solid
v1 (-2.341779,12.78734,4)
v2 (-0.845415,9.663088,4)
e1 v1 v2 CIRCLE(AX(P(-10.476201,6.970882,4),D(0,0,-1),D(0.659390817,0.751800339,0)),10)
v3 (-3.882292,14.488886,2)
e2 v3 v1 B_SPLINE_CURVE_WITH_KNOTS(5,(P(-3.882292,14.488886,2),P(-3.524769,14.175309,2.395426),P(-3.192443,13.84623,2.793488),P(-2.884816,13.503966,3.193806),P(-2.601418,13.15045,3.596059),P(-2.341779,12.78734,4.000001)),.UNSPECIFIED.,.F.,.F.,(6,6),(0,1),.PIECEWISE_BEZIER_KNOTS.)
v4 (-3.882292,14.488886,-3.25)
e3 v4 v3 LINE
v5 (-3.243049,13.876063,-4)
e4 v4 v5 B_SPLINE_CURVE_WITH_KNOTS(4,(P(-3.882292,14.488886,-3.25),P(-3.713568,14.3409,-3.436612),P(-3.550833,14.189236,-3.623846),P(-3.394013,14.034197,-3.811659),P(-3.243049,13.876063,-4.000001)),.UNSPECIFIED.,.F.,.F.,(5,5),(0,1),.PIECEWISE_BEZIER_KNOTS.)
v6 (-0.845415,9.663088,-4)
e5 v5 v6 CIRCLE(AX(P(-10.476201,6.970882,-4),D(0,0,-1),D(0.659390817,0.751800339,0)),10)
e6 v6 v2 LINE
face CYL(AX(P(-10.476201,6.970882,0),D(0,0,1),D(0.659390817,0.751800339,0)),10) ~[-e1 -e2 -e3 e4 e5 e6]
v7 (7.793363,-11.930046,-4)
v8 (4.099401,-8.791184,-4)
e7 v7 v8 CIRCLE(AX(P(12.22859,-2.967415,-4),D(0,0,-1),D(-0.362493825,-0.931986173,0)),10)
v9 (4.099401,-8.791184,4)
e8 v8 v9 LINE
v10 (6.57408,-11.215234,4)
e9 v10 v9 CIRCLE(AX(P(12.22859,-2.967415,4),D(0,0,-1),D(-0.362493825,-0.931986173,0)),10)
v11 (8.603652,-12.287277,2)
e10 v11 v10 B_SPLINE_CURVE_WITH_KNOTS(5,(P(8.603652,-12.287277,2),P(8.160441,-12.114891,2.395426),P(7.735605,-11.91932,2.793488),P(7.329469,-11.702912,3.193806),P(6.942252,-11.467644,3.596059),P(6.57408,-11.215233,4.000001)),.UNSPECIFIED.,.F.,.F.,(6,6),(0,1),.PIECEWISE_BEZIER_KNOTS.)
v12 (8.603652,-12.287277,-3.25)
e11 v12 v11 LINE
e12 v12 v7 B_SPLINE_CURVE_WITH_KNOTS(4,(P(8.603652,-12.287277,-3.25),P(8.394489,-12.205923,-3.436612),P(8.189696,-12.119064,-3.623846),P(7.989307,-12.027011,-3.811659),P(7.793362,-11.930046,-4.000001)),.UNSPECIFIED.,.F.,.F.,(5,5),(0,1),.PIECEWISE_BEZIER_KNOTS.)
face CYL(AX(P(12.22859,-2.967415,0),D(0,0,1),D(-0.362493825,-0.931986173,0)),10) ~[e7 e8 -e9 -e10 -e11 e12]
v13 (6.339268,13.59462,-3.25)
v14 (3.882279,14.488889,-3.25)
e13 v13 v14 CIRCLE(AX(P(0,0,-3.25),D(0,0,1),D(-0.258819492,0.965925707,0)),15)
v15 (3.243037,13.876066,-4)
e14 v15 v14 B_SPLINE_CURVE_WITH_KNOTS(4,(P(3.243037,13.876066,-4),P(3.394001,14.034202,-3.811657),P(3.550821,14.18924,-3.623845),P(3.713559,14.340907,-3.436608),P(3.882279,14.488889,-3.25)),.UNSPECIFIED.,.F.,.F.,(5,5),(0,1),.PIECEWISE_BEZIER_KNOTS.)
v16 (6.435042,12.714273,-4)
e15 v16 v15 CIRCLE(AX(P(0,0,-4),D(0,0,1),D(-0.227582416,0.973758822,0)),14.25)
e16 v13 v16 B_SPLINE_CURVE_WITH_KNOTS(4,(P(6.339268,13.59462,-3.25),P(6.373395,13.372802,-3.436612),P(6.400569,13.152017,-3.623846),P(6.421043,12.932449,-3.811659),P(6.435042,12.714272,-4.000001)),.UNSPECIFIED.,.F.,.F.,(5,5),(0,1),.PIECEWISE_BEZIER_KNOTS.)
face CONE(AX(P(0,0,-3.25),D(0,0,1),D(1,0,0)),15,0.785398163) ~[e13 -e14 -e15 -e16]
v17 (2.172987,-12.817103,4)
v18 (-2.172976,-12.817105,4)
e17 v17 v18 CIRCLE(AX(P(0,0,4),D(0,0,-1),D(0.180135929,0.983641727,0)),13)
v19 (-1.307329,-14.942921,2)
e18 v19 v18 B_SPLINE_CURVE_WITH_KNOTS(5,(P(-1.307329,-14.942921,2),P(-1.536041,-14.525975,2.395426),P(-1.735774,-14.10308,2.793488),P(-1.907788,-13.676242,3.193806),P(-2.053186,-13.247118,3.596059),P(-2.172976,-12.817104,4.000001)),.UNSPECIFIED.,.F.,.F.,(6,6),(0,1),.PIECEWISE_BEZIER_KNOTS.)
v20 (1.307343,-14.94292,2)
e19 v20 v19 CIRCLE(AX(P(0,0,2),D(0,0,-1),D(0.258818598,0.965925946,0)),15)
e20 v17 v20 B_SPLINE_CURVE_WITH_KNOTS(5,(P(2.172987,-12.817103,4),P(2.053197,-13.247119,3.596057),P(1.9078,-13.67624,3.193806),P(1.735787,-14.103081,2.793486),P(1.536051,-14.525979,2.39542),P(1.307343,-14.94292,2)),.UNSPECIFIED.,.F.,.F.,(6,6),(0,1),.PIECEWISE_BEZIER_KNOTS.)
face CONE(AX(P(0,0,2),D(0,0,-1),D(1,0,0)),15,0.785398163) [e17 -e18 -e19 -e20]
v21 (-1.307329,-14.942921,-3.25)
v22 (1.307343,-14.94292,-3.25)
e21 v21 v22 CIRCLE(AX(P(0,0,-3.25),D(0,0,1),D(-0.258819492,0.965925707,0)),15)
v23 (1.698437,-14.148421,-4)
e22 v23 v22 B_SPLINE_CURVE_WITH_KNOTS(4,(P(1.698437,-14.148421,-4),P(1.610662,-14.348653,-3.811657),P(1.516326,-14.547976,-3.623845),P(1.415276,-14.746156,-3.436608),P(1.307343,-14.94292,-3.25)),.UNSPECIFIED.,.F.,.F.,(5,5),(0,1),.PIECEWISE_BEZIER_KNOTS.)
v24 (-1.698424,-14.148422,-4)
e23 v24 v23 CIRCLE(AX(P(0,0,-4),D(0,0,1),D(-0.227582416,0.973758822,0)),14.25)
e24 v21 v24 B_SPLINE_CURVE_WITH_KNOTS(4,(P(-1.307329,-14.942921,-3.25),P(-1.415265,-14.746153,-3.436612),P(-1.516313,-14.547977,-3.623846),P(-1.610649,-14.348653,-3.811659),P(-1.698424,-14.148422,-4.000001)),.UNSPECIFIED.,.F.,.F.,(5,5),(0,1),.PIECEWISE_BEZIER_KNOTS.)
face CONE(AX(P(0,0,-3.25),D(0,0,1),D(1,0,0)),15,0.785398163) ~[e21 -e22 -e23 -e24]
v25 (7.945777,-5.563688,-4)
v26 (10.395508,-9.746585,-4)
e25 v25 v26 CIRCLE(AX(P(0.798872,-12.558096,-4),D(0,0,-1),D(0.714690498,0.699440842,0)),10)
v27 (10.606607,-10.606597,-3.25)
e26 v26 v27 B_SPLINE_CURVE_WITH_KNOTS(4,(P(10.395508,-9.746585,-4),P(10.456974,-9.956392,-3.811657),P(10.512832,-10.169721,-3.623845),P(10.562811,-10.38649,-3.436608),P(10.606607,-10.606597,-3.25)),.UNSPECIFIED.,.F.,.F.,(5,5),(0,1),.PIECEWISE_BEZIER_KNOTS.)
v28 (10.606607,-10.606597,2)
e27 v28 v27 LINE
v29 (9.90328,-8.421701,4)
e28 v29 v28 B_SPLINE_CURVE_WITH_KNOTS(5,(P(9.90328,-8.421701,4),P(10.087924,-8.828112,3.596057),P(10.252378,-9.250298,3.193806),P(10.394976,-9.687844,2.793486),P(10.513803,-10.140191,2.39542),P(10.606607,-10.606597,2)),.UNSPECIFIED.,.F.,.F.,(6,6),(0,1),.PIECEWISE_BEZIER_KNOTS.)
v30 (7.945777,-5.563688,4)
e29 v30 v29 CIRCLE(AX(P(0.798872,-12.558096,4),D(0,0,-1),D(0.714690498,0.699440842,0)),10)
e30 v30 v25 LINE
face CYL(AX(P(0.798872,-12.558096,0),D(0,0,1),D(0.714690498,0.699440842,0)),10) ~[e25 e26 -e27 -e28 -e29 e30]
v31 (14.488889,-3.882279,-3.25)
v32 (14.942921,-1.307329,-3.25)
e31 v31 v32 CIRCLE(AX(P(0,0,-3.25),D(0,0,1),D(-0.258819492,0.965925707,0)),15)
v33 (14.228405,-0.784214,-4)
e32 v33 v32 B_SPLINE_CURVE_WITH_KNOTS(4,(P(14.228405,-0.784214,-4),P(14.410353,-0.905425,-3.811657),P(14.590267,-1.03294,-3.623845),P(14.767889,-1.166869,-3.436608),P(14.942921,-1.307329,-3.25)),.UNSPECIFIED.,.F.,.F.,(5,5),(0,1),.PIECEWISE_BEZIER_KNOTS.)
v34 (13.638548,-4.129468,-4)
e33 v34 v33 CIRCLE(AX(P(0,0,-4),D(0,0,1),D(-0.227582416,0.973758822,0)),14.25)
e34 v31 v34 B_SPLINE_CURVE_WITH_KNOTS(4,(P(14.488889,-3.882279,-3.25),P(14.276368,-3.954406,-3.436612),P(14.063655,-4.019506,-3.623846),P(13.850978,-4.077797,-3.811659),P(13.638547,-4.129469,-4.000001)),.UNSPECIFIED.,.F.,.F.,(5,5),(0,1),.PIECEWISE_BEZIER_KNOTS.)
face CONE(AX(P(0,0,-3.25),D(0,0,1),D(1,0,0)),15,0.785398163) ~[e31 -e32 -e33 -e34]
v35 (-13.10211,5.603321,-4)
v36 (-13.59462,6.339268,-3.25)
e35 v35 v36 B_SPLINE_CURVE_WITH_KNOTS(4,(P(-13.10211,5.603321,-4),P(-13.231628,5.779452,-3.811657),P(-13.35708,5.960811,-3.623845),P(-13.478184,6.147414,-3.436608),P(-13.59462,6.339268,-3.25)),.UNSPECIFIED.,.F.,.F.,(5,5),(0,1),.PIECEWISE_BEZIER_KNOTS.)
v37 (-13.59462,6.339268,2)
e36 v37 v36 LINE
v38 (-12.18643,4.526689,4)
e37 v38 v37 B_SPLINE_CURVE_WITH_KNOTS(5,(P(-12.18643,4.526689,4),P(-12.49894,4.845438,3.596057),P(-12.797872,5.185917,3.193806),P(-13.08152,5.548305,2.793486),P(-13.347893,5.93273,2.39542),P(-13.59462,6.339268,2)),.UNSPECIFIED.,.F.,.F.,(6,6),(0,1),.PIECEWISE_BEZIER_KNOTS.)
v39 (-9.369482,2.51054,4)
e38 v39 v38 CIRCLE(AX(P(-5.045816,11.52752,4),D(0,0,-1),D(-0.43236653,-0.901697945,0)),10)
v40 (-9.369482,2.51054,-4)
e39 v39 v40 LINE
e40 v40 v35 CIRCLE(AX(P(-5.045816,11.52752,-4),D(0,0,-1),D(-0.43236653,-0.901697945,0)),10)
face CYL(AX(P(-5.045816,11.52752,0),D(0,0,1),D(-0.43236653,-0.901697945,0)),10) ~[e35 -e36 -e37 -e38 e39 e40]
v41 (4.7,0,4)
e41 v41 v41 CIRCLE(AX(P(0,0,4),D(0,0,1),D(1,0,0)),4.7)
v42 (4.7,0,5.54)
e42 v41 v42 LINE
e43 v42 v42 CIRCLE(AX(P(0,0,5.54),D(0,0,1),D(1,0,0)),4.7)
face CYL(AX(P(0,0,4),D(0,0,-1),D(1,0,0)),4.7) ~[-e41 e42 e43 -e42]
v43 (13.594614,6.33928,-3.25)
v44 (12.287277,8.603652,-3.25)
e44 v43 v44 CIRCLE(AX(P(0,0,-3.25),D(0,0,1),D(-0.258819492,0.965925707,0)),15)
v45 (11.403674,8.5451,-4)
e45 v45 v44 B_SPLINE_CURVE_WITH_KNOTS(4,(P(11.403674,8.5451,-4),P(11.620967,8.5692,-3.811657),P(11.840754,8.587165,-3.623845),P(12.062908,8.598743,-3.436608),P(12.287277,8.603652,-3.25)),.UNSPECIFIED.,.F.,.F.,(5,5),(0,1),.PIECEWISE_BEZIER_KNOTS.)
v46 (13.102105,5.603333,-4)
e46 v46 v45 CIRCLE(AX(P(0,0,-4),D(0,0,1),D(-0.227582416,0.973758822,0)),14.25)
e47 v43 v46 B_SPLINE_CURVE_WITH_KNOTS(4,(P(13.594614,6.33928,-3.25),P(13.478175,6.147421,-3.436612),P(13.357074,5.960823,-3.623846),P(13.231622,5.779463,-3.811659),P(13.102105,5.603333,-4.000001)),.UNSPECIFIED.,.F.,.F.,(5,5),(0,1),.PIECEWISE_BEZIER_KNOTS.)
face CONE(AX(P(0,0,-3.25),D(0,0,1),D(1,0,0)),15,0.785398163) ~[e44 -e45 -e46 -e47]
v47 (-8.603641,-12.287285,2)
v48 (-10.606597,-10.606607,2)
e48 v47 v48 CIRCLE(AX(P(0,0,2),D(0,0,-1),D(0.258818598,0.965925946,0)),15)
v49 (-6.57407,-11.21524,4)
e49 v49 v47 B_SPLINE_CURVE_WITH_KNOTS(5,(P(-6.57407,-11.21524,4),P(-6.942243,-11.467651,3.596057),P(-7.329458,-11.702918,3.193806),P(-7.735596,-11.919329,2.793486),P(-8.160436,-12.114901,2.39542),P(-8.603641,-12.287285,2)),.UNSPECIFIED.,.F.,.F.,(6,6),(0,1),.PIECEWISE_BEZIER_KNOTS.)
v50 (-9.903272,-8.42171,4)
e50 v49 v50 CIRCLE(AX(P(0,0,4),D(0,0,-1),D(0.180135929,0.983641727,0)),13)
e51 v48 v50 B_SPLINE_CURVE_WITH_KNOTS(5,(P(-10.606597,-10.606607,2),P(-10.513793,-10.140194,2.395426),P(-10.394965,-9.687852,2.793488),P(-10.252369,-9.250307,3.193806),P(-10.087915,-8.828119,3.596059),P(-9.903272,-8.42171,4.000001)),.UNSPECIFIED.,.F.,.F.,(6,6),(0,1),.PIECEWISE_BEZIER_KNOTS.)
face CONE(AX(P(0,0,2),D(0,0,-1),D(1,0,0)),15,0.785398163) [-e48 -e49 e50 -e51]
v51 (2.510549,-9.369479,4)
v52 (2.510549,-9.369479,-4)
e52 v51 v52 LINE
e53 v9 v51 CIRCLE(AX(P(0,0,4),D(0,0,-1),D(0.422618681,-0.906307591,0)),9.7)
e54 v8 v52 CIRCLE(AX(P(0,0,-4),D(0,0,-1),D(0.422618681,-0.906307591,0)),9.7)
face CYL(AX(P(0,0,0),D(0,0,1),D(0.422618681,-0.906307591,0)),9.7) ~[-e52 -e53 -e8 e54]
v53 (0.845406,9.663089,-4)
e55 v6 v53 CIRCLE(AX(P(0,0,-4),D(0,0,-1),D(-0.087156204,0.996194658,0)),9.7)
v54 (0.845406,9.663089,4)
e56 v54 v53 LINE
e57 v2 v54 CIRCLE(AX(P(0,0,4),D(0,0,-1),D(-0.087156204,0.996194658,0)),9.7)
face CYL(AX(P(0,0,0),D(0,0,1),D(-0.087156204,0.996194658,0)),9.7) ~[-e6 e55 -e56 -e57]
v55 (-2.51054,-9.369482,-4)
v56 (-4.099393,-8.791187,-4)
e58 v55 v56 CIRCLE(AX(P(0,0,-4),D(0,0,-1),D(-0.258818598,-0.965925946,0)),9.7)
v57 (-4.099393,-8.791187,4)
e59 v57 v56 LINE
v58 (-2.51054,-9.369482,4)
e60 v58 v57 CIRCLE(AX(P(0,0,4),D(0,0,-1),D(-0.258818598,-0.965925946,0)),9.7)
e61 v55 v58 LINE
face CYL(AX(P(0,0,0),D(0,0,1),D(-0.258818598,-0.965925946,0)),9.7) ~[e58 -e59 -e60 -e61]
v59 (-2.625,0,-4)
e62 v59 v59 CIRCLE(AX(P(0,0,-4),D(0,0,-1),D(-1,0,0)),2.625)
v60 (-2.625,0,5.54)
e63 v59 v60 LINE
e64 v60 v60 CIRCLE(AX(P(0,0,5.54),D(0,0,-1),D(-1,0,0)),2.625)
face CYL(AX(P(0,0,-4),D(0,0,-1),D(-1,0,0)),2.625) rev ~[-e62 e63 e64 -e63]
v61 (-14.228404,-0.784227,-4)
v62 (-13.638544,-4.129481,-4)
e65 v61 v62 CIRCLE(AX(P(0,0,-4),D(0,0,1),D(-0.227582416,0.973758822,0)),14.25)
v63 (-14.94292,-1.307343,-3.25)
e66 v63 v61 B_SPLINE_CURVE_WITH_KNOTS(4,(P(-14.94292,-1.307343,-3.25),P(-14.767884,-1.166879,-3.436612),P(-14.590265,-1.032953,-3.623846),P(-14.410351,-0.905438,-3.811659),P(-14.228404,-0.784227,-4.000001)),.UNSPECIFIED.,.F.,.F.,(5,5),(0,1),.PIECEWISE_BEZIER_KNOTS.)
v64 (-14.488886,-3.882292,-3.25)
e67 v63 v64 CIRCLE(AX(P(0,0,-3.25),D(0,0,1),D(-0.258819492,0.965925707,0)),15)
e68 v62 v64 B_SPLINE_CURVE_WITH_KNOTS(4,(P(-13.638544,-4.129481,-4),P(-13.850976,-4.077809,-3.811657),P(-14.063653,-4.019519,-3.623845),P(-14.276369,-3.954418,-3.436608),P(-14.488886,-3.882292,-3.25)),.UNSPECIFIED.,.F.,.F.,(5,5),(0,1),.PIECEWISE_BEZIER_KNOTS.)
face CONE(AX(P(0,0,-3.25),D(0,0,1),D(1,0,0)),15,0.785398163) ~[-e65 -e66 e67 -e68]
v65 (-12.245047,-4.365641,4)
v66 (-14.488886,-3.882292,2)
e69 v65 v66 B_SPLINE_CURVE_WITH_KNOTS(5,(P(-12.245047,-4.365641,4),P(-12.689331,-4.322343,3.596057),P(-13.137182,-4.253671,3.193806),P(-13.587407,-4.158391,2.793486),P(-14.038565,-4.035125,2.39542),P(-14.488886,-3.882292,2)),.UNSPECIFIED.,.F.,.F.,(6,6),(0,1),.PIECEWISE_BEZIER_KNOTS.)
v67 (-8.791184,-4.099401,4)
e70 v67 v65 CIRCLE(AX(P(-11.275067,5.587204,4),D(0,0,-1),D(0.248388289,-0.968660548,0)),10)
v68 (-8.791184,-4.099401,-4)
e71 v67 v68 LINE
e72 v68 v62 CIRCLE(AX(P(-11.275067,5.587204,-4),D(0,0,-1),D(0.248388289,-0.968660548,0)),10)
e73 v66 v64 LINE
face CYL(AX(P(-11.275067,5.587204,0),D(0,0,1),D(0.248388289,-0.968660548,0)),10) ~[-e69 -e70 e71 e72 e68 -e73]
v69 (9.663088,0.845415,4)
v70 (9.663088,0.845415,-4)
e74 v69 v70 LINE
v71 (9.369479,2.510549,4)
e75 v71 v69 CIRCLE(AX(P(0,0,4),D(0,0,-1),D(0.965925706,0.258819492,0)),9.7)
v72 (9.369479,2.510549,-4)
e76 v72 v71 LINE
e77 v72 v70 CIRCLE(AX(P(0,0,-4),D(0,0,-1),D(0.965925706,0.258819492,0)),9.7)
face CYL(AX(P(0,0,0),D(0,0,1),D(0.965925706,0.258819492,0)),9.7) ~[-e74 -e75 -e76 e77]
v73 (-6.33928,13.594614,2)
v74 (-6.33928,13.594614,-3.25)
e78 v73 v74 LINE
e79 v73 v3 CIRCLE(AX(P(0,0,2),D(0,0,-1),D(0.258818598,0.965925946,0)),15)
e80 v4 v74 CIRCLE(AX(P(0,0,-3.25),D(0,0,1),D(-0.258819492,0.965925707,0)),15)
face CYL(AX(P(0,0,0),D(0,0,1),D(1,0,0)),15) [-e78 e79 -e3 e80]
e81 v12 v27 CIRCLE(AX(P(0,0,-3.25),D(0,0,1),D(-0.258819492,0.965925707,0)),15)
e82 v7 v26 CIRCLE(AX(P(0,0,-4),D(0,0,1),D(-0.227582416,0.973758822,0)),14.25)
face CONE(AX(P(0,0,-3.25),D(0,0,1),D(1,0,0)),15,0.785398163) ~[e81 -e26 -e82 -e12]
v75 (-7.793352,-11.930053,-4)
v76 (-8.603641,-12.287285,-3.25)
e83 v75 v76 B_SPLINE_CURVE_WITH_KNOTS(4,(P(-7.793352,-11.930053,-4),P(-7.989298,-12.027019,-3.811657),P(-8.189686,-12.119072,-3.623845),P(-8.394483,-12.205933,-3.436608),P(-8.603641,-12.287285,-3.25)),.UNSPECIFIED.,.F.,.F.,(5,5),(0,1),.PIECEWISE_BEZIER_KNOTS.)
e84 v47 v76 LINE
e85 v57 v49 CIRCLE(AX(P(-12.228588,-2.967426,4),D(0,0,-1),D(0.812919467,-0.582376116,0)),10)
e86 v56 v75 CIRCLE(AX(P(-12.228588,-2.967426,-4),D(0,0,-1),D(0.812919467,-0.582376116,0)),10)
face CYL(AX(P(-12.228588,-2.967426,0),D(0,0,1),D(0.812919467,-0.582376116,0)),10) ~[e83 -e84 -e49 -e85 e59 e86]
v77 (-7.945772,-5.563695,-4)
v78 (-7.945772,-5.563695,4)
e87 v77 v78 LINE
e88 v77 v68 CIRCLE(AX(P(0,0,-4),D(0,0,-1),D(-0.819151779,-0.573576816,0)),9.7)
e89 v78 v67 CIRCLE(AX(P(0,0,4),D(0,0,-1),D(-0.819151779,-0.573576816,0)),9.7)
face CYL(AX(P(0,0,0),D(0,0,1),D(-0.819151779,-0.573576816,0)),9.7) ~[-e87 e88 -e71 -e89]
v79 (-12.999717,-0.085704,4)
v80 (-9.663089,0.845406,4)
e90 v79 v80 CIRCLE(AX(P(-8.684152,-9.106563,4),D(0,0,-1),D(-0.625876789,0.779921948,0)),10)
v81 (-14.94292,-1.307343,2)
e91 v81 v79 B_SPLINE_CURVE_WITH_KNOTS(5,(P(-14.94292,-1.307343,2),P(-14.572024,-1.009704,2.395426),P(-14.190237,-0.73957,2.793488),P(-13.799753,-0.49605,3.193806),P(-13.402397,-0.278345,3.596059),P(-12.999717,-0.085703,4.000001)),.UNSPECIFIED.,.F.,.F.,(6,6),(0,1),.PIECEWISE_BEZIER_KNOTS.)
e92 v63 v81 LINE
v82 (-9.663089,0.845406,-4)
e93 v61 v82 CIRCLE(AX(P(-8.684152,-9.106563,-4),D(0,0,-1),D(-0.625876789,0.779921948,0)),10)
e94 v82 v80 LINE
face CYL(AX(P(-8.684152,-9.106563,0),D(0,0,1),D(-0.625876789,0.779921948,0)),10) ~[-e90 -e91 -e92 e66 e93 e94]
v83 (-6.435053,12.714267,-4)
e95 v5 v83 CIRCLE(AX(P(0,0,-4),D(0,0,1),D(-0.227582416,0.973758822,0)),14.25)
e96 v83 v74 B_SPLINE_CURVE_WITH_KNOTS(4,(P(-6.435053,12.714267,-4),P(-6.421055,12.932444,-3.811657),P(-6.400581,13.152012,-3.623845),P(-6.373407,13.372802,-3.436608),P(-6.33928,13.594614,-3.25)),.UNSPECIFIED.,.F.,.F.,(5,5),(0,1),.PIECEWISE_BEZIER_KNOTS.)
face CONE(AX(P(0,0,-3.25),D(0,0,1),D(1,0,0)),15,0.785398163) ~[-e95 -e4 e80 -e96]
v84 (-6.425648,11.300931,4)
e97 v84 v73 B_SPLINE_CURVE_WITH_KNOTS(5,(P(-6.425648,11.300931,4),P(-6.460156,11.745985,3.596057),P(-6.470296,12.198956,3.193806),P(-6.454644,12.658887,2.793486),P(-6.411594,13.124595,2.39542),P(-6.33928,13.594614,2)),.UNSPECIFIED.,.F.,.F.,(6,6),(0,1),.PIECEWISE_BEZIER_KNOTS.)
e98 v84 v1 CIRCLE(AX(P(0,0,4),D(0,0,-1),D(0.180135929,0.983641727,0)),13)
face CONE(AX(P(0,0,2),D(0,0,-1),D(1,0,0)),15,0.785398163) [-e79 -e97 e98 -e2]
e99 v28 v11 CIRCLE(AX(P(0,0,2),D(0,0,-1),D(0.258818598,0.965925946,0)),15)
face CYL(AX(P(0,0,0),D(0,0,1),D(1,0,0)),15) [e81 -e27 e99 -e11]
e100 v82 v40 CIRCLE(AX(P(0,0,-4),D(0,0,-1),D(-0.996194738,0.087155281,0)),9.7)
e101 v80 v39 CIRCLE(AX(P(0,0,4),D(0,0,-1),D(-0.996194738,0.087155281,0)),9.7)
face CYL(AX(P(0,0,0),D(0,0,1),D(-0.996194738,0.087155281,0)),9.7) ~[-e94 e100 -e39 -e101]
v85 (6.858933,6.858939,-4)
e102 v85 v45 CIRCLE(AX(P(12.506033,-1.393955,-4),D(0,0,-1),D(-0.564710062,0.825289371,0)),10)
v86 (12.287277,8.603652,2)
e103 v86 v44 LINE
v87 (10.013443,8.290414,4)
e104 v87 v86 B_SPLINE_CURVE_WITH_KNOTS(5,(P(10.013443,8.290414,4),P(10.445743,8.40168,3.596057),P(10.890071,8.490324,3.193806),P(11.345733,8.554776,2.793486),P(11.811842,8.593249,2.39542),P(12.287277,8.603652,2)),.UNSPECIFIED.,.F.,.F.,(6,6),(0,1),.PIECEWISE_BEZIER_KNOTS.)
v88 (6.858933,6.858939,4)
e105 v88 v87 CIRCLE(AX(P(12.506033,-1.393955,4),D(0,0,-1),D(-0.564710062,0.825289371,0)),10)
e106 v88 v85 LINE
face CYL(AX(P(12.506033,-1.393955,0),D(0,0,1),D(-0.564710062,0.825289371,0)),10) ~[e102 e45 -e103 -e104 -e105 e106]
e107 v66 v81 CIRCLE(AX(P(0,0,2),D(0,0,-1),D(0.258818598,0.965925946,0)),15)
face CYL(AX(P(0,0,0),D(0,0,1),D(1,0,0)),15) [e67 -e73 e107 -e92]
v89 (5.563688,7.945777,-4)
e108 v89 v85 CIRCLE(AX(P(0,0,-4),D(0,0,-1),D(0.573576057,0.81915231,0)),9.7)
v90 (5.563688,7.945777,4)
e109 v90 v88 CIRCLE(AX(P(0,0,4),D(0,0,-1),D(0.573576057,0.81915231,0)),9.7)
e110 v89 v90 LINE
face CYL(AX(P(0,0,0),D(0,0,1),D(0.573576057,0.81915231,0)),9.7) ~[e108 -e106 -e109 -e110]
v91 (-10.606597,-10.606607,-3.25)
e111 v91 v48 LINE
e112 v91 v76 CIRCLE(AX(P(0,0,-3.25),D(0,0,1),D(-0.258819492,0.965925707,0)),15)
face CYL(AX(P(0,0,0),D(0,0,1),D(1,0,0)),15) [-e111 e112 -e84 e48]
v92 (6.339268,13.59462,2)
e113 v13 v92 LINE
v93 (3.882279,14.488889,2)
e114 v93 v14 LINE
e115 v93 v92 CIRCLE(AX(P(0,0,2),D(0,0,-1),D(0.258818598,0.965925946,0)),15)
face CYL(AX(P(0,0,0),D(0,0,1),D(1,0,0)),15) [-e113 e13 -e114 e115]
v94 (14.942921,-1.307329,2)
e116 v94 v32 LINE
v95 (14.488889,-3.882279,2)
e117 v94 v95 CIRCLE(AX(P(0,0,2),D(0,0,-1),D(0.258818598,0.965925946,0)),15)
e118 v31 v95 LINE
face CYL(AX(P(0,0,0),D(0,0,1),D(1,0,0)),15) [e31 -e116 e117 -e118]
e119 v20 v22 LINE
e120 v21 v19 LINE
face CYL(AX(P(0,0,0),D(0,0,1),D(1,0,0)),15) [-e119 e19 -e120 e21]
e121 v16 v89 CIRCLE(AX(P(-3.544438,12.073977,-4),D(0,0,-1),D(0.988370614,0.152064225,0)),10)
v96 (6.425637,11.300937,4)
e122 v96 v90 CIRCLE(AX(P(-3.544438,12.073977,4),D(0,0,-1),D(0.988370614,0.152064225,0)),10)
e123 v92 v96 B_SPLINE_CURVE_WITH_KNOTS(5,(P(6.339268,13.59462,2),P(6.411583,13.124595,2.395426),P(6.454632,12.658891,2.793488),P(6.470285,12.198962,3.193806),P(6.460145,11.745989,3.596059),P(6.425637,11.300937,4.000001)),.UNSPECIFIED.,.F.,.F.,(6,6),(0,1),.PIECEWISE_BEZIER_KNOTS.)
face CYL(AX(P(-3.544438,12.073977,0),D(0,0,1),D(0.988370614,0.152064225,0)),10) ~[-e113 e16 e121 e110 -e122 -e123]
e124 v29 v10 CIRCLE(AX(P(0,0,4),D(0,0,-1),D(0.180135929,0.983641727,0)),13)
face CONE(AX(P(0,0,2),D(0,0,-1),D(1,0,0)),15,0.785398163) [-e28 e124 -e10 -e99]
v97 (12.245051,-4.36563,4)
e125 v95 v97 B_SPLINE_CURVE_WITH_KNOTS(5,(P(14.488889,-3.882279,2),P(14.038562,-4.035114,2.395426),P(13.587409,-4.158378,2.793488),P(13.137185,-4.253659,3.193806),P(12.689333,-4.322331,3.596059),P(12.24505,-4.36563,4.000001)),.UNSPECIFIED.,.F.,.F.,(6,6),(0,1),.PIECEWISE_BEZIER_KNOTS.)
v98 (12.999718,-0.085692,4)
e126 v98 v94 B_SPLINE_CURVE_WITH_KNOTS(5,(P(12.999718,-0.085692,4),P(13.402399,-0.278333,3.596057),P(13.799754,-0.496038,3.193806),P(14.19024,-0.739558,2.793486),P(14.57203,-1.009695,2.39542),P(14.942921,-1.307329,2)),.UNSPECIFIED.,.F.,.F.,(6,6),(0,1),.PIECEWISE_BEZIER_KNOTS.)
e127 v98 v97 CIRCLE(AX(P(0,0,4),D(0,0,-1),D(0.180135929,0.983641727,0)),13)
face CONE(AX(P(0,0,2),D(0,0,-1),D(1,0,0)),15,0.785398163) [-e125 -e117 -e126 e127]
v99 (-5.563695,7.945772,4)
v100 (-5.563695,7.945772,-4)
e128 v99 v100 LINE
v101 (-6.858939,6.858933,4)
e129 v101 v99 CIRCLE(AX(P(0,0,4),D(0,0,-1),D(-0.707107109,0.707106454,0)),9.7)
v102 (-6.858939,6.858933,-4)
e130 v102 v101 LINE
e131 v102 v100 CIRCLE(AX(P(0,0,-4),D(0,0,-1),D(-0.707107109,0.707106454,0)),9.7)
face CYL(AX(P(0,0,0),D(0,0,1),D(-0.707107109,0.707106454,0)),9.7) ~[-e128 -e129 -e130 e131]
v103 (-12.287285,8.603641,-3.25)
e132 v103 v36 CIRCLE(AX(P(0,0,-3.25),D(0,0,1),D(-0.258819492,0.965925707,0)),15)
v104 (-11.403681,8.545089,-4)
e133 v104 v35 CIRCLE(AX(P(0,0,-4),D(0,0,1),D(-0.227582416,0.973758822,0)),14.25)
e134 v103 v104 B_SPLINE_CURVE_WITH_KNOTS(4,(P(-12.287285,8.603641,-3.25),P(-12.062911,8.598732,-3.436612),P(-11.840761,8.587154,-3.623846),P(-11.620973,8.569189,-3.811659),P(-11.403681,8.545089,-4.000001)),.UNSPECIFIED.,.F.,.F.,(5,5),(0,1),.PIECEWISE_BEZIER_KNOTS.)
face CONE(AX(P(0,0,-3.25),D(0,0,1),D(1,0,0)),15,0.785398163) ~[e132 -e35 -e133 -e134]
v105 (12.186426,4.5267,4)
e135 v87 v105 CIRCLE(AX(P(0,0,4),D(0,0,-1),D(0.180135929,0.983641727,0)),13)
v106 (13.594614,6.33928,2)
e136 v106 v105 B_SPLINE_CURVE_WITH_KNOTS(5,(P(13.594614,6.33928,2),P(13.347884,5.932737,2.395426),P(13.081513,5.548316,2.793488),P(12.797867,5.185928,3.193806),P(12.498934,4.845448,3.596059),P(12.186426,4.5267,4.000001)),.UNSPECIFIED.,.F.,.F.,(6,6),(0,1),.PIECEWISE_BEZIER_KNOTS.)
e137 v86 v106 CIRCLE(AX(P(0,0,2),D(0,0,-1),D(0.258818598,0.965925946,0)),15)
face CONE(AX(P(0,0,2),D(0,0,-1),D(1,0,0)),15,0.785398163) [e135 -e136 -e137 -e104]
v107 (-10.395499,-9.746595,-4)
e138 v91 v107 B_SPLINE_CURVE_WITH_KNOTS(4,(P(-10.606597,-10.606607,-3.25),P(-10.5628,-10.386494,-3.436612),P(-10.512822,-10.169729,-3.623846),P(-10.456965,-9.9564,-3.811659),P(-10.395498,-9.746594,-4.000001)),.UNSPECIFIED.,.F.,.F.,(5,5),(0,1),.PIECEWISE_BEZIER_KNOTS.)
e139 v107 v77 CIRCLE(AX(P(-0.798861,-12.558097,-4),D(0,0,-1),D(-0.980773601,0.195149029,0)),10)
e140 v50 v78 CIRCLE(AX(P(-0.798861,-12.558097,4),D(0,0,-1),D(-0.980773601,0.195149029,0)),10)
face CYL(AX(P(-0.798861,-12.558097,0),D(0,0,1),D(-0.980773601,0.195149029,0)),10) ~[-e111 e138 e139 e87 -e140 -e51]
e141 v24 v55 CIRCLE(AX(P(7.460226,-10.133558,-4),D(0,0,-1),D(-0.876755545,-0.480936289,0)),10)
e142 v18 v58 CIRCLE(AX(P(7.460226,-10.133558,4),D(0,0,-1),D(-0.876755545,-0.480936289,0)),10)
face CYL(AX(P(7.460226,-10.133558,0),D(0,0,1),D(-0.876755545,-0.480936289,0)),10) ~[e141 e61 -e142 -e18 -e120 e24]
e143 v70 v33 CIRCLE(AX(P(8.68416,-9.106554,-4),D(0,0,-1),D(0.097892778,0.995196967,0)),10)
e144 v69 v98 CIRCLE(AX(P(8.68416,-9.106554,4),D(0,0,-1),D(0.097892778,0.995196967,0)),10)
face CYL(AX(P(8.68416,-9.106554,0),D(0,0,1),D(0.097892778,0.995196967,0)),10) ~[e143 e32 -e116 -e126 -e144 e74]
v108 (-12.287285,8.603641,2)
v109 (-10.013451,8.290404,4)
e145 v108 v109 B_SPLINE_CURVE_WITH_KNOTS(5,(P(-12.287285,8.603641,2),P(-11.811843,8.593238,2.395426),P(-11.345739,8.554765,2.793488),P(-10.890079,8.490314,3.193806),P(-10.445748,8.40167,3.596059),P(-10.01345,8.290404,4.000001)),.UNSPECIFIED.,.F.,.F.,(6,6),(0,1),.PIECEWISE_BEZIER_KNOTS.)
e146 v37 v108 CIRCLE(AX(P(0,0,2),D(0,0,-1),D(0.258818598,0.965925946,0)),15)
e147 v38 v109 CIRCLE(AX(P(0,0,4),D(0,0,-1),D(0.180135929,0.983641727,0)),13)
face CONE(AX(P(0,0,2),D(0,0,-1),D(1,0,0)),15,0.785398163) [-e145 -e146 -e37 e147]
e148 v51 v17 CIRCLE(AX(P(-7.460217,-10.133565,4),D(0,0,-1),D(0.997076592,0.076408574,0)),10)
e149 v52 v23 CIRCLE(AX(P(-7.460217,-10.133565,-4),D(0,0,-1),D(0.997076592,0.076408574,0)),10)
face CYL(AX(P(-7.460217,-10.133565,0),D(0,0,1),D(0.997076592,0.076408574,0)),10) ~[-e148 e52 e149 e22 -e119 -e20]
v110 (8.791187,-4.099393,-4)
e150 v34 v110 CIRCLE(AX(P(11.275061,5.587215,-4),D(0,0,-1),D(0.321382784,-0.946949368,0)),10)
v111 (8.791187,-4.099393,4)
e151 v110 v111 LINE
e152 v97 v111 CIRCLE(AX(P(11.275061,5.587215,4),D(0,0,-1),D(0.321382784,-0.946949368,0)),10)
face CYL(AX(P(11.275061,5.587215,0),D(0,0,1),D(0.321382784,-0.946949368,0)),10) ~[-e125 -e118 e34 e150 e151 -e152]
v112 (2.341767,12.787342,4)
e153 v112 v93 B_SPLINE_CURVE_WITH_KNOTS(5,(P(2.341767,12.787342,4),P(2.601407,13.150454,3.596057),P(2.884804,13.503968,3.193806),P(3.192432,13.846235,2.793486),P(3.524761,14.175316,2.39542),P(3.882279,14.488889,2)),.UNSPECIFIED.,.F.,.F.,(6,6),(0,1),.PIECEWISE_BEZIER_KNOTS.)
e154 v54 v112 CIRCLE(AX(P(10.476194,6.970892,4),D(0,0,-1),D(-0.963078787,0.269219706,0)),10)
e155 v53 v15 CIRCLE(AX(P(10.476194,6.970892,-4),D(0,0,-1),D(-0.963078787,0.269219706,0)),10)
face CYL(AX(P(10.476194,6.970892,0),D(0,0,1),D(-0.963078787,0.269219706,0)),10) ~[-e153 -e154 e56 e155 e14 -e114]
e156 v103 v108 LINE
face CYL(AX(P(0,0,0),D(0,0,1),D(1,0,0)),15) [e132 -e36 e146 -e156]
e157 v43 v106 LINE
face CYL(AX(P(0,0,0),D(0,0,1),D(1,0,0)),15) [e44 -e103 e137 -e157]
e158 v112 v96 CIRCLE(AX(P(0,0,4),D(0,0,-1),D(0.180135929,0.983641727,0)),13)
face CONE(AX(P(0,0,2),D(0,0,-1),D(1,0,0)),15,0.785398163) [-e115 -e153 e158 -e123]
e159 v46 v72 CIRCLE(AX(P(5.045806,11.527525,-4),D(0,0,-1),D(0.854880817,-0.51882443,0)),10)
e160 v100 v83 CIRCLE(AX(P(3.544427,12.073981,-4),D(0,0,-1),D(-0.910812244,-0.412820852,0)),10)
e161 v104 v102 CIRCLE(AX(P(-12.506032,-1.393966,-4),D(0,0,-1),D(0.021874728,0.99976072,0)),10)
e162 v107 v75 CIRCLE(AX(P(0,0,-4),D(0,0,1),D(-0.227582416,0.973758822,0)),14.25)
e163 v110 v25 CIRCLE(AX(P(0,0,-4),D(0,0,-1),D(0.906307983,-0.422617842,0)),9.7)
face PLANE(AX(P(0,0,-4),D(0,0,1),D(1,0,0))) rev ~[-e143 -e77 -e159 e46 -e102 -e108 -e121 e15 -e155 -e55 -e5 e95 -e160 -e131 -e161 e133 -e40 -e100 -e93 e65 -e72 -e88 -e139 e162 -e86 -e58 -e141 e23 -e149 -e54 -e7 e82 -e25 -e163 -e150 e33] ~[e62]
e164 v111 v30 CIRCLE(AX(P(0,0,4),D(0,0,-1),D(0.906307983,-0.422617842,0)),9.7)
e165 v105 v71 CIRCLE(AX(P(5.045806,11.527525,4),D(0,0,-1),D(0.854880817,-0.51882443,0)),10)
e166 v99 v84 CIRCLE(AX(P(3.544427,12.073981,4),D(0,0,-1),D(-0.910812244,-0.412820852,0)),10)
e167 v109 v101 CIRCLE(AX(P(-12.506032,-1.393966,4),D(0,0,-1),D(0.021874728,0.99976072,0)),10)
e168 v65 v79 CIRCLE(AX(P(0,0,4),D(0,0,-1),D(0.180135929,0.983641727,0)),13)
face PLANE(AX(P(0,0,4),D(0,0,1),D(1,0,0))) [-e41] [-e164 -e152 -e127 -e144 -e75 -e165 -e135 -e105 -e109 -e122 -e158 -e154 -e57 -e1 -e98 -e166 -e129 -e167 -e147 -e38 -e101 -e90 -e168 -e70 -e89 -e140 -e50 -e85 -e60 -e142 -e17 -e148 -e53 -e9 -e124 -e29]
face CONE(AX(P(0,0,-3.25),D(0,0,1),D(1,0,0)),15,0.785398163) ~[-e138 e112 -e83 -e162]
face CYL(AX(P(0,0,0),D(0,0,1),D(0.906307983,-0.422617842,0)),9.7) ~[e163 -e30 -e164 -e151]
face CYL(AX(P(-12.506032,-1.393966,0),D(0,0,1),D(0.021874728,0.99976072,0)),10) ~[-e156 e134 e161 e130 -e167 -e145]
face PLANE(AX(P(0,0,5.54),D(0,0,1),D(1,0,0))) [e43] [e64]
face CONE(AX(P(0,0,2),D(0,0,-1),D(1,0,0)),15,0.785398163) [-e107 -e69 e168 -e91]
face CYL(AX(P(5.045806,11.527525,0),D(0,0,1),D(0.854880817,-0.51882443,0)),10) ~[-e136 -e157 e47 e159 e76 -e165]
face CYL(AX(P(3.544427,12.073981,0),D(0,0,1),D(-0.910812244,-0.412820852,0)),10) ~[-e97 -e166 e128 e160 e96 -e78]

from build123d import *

# Parameters (mm, degrees)
SKETCH1_R               = 15
GEAR_BLANK_DEPTH        = 4
FRONT_GEAR_CHAMFER_SIZE = 2
REAR_GEAR_CHAMFER_SIZE  = 0.75
TOOTH_CUT_DEPTH         = 4
TOOTH_COPIES_COUNT      = 9
SKETCH3_R               = 4.7
BOSS_EXTRUDE1_DEPTH     = 1.54
SKETCH4_R               = 2.625
CUT_EXTRUDE1_DEPTH      = 10


with BuildPart() as part:
    # Sketch1 → Gear Blank (new body, symmetric)
    with BuildSketch(Plane.XY):
        Circle(SKETCH1_R)
    extrude(amount=GEAR_BLANK_DEPTH, both=True)

    # Front Gear Chamfer
    front_gear_chamfer_edges = [part.edges().sort_by_distance(p)[0] for p in [
        (-15, 0, 4),
    ]]
    chamfer(front_gear_chamfer_edges, length=FRONT_GEAR_CHAMFER_SIZE)

    # Rear Gear Chamfer
    rear_gear_chamfer_edges = [part.edges().sort_by_distance(p)[0] for p in [
        (-15, 0, -4),
    ]]
    chamfer(rear_gear_chamfer_edges, length=REAR_GEAR_CHAMFER_SIZE)

    # Sketch2 → Tooth Cut (cut, symmetric)
    with BuildSketch(Plane.XY):
        with BuildLine():
            ThreePointArc((3.882278974, 14.48888919), (-6.939e-06, 15), (-3.882292379, 14.488885598))
            ThreePointArc((-3.882292379, 14.488885598), (-2.012616773, 12.297020546), (-0.845415175, 9.66308818))
            ThreePointArc((-0.845415175, 9.66308818), (-4.487e-06, 9.7), (0.845406235, 9.663088963))
            ThreePointArc((0.845406235, 9.663088963), (2.012605396, 12.297022408), (3.882278974, 14.48888919))
        make_face()
    tooth_cut = extrude(amount=TOOTH_CUT_DEPTH, both=True, mode=Mode.SUBTRACT)

    # Tooth Copies: Tooth Cut ×9 about axis
    tooth_copies_axis = Axis((0, 0, 0), (0, 0, 1))
    for i in range(1, TOOTH_COPIES_COUNT):
        add(tooth_cut.rotate(tooth_copies_axis, i * 360 / TOOTH_COPIES_COUNT), mode=Mode.SUBTRACT)

    # Sketch3 → Boss-Extrude1 (add)
    with BuildSketch(Plane.XY.offset(4)):
        Circle(SKETCH3_R)
    extrude(amount=BOSS_EXTRUDE1_DEPTH)

    # Sketch4 → Cut-Extrude1 (cut)
    with BuildSketch(Plane(origin=(0, 0, -4), x_dir=(-1, 0, 0), z_dir=(0, 0, -1))):
        Circle(SKETCH4_R)
    extrude(amount=-CUT_EXTRUDE1_DEPTH, mode=Mode.SUBTRACT)


solid = part.part
